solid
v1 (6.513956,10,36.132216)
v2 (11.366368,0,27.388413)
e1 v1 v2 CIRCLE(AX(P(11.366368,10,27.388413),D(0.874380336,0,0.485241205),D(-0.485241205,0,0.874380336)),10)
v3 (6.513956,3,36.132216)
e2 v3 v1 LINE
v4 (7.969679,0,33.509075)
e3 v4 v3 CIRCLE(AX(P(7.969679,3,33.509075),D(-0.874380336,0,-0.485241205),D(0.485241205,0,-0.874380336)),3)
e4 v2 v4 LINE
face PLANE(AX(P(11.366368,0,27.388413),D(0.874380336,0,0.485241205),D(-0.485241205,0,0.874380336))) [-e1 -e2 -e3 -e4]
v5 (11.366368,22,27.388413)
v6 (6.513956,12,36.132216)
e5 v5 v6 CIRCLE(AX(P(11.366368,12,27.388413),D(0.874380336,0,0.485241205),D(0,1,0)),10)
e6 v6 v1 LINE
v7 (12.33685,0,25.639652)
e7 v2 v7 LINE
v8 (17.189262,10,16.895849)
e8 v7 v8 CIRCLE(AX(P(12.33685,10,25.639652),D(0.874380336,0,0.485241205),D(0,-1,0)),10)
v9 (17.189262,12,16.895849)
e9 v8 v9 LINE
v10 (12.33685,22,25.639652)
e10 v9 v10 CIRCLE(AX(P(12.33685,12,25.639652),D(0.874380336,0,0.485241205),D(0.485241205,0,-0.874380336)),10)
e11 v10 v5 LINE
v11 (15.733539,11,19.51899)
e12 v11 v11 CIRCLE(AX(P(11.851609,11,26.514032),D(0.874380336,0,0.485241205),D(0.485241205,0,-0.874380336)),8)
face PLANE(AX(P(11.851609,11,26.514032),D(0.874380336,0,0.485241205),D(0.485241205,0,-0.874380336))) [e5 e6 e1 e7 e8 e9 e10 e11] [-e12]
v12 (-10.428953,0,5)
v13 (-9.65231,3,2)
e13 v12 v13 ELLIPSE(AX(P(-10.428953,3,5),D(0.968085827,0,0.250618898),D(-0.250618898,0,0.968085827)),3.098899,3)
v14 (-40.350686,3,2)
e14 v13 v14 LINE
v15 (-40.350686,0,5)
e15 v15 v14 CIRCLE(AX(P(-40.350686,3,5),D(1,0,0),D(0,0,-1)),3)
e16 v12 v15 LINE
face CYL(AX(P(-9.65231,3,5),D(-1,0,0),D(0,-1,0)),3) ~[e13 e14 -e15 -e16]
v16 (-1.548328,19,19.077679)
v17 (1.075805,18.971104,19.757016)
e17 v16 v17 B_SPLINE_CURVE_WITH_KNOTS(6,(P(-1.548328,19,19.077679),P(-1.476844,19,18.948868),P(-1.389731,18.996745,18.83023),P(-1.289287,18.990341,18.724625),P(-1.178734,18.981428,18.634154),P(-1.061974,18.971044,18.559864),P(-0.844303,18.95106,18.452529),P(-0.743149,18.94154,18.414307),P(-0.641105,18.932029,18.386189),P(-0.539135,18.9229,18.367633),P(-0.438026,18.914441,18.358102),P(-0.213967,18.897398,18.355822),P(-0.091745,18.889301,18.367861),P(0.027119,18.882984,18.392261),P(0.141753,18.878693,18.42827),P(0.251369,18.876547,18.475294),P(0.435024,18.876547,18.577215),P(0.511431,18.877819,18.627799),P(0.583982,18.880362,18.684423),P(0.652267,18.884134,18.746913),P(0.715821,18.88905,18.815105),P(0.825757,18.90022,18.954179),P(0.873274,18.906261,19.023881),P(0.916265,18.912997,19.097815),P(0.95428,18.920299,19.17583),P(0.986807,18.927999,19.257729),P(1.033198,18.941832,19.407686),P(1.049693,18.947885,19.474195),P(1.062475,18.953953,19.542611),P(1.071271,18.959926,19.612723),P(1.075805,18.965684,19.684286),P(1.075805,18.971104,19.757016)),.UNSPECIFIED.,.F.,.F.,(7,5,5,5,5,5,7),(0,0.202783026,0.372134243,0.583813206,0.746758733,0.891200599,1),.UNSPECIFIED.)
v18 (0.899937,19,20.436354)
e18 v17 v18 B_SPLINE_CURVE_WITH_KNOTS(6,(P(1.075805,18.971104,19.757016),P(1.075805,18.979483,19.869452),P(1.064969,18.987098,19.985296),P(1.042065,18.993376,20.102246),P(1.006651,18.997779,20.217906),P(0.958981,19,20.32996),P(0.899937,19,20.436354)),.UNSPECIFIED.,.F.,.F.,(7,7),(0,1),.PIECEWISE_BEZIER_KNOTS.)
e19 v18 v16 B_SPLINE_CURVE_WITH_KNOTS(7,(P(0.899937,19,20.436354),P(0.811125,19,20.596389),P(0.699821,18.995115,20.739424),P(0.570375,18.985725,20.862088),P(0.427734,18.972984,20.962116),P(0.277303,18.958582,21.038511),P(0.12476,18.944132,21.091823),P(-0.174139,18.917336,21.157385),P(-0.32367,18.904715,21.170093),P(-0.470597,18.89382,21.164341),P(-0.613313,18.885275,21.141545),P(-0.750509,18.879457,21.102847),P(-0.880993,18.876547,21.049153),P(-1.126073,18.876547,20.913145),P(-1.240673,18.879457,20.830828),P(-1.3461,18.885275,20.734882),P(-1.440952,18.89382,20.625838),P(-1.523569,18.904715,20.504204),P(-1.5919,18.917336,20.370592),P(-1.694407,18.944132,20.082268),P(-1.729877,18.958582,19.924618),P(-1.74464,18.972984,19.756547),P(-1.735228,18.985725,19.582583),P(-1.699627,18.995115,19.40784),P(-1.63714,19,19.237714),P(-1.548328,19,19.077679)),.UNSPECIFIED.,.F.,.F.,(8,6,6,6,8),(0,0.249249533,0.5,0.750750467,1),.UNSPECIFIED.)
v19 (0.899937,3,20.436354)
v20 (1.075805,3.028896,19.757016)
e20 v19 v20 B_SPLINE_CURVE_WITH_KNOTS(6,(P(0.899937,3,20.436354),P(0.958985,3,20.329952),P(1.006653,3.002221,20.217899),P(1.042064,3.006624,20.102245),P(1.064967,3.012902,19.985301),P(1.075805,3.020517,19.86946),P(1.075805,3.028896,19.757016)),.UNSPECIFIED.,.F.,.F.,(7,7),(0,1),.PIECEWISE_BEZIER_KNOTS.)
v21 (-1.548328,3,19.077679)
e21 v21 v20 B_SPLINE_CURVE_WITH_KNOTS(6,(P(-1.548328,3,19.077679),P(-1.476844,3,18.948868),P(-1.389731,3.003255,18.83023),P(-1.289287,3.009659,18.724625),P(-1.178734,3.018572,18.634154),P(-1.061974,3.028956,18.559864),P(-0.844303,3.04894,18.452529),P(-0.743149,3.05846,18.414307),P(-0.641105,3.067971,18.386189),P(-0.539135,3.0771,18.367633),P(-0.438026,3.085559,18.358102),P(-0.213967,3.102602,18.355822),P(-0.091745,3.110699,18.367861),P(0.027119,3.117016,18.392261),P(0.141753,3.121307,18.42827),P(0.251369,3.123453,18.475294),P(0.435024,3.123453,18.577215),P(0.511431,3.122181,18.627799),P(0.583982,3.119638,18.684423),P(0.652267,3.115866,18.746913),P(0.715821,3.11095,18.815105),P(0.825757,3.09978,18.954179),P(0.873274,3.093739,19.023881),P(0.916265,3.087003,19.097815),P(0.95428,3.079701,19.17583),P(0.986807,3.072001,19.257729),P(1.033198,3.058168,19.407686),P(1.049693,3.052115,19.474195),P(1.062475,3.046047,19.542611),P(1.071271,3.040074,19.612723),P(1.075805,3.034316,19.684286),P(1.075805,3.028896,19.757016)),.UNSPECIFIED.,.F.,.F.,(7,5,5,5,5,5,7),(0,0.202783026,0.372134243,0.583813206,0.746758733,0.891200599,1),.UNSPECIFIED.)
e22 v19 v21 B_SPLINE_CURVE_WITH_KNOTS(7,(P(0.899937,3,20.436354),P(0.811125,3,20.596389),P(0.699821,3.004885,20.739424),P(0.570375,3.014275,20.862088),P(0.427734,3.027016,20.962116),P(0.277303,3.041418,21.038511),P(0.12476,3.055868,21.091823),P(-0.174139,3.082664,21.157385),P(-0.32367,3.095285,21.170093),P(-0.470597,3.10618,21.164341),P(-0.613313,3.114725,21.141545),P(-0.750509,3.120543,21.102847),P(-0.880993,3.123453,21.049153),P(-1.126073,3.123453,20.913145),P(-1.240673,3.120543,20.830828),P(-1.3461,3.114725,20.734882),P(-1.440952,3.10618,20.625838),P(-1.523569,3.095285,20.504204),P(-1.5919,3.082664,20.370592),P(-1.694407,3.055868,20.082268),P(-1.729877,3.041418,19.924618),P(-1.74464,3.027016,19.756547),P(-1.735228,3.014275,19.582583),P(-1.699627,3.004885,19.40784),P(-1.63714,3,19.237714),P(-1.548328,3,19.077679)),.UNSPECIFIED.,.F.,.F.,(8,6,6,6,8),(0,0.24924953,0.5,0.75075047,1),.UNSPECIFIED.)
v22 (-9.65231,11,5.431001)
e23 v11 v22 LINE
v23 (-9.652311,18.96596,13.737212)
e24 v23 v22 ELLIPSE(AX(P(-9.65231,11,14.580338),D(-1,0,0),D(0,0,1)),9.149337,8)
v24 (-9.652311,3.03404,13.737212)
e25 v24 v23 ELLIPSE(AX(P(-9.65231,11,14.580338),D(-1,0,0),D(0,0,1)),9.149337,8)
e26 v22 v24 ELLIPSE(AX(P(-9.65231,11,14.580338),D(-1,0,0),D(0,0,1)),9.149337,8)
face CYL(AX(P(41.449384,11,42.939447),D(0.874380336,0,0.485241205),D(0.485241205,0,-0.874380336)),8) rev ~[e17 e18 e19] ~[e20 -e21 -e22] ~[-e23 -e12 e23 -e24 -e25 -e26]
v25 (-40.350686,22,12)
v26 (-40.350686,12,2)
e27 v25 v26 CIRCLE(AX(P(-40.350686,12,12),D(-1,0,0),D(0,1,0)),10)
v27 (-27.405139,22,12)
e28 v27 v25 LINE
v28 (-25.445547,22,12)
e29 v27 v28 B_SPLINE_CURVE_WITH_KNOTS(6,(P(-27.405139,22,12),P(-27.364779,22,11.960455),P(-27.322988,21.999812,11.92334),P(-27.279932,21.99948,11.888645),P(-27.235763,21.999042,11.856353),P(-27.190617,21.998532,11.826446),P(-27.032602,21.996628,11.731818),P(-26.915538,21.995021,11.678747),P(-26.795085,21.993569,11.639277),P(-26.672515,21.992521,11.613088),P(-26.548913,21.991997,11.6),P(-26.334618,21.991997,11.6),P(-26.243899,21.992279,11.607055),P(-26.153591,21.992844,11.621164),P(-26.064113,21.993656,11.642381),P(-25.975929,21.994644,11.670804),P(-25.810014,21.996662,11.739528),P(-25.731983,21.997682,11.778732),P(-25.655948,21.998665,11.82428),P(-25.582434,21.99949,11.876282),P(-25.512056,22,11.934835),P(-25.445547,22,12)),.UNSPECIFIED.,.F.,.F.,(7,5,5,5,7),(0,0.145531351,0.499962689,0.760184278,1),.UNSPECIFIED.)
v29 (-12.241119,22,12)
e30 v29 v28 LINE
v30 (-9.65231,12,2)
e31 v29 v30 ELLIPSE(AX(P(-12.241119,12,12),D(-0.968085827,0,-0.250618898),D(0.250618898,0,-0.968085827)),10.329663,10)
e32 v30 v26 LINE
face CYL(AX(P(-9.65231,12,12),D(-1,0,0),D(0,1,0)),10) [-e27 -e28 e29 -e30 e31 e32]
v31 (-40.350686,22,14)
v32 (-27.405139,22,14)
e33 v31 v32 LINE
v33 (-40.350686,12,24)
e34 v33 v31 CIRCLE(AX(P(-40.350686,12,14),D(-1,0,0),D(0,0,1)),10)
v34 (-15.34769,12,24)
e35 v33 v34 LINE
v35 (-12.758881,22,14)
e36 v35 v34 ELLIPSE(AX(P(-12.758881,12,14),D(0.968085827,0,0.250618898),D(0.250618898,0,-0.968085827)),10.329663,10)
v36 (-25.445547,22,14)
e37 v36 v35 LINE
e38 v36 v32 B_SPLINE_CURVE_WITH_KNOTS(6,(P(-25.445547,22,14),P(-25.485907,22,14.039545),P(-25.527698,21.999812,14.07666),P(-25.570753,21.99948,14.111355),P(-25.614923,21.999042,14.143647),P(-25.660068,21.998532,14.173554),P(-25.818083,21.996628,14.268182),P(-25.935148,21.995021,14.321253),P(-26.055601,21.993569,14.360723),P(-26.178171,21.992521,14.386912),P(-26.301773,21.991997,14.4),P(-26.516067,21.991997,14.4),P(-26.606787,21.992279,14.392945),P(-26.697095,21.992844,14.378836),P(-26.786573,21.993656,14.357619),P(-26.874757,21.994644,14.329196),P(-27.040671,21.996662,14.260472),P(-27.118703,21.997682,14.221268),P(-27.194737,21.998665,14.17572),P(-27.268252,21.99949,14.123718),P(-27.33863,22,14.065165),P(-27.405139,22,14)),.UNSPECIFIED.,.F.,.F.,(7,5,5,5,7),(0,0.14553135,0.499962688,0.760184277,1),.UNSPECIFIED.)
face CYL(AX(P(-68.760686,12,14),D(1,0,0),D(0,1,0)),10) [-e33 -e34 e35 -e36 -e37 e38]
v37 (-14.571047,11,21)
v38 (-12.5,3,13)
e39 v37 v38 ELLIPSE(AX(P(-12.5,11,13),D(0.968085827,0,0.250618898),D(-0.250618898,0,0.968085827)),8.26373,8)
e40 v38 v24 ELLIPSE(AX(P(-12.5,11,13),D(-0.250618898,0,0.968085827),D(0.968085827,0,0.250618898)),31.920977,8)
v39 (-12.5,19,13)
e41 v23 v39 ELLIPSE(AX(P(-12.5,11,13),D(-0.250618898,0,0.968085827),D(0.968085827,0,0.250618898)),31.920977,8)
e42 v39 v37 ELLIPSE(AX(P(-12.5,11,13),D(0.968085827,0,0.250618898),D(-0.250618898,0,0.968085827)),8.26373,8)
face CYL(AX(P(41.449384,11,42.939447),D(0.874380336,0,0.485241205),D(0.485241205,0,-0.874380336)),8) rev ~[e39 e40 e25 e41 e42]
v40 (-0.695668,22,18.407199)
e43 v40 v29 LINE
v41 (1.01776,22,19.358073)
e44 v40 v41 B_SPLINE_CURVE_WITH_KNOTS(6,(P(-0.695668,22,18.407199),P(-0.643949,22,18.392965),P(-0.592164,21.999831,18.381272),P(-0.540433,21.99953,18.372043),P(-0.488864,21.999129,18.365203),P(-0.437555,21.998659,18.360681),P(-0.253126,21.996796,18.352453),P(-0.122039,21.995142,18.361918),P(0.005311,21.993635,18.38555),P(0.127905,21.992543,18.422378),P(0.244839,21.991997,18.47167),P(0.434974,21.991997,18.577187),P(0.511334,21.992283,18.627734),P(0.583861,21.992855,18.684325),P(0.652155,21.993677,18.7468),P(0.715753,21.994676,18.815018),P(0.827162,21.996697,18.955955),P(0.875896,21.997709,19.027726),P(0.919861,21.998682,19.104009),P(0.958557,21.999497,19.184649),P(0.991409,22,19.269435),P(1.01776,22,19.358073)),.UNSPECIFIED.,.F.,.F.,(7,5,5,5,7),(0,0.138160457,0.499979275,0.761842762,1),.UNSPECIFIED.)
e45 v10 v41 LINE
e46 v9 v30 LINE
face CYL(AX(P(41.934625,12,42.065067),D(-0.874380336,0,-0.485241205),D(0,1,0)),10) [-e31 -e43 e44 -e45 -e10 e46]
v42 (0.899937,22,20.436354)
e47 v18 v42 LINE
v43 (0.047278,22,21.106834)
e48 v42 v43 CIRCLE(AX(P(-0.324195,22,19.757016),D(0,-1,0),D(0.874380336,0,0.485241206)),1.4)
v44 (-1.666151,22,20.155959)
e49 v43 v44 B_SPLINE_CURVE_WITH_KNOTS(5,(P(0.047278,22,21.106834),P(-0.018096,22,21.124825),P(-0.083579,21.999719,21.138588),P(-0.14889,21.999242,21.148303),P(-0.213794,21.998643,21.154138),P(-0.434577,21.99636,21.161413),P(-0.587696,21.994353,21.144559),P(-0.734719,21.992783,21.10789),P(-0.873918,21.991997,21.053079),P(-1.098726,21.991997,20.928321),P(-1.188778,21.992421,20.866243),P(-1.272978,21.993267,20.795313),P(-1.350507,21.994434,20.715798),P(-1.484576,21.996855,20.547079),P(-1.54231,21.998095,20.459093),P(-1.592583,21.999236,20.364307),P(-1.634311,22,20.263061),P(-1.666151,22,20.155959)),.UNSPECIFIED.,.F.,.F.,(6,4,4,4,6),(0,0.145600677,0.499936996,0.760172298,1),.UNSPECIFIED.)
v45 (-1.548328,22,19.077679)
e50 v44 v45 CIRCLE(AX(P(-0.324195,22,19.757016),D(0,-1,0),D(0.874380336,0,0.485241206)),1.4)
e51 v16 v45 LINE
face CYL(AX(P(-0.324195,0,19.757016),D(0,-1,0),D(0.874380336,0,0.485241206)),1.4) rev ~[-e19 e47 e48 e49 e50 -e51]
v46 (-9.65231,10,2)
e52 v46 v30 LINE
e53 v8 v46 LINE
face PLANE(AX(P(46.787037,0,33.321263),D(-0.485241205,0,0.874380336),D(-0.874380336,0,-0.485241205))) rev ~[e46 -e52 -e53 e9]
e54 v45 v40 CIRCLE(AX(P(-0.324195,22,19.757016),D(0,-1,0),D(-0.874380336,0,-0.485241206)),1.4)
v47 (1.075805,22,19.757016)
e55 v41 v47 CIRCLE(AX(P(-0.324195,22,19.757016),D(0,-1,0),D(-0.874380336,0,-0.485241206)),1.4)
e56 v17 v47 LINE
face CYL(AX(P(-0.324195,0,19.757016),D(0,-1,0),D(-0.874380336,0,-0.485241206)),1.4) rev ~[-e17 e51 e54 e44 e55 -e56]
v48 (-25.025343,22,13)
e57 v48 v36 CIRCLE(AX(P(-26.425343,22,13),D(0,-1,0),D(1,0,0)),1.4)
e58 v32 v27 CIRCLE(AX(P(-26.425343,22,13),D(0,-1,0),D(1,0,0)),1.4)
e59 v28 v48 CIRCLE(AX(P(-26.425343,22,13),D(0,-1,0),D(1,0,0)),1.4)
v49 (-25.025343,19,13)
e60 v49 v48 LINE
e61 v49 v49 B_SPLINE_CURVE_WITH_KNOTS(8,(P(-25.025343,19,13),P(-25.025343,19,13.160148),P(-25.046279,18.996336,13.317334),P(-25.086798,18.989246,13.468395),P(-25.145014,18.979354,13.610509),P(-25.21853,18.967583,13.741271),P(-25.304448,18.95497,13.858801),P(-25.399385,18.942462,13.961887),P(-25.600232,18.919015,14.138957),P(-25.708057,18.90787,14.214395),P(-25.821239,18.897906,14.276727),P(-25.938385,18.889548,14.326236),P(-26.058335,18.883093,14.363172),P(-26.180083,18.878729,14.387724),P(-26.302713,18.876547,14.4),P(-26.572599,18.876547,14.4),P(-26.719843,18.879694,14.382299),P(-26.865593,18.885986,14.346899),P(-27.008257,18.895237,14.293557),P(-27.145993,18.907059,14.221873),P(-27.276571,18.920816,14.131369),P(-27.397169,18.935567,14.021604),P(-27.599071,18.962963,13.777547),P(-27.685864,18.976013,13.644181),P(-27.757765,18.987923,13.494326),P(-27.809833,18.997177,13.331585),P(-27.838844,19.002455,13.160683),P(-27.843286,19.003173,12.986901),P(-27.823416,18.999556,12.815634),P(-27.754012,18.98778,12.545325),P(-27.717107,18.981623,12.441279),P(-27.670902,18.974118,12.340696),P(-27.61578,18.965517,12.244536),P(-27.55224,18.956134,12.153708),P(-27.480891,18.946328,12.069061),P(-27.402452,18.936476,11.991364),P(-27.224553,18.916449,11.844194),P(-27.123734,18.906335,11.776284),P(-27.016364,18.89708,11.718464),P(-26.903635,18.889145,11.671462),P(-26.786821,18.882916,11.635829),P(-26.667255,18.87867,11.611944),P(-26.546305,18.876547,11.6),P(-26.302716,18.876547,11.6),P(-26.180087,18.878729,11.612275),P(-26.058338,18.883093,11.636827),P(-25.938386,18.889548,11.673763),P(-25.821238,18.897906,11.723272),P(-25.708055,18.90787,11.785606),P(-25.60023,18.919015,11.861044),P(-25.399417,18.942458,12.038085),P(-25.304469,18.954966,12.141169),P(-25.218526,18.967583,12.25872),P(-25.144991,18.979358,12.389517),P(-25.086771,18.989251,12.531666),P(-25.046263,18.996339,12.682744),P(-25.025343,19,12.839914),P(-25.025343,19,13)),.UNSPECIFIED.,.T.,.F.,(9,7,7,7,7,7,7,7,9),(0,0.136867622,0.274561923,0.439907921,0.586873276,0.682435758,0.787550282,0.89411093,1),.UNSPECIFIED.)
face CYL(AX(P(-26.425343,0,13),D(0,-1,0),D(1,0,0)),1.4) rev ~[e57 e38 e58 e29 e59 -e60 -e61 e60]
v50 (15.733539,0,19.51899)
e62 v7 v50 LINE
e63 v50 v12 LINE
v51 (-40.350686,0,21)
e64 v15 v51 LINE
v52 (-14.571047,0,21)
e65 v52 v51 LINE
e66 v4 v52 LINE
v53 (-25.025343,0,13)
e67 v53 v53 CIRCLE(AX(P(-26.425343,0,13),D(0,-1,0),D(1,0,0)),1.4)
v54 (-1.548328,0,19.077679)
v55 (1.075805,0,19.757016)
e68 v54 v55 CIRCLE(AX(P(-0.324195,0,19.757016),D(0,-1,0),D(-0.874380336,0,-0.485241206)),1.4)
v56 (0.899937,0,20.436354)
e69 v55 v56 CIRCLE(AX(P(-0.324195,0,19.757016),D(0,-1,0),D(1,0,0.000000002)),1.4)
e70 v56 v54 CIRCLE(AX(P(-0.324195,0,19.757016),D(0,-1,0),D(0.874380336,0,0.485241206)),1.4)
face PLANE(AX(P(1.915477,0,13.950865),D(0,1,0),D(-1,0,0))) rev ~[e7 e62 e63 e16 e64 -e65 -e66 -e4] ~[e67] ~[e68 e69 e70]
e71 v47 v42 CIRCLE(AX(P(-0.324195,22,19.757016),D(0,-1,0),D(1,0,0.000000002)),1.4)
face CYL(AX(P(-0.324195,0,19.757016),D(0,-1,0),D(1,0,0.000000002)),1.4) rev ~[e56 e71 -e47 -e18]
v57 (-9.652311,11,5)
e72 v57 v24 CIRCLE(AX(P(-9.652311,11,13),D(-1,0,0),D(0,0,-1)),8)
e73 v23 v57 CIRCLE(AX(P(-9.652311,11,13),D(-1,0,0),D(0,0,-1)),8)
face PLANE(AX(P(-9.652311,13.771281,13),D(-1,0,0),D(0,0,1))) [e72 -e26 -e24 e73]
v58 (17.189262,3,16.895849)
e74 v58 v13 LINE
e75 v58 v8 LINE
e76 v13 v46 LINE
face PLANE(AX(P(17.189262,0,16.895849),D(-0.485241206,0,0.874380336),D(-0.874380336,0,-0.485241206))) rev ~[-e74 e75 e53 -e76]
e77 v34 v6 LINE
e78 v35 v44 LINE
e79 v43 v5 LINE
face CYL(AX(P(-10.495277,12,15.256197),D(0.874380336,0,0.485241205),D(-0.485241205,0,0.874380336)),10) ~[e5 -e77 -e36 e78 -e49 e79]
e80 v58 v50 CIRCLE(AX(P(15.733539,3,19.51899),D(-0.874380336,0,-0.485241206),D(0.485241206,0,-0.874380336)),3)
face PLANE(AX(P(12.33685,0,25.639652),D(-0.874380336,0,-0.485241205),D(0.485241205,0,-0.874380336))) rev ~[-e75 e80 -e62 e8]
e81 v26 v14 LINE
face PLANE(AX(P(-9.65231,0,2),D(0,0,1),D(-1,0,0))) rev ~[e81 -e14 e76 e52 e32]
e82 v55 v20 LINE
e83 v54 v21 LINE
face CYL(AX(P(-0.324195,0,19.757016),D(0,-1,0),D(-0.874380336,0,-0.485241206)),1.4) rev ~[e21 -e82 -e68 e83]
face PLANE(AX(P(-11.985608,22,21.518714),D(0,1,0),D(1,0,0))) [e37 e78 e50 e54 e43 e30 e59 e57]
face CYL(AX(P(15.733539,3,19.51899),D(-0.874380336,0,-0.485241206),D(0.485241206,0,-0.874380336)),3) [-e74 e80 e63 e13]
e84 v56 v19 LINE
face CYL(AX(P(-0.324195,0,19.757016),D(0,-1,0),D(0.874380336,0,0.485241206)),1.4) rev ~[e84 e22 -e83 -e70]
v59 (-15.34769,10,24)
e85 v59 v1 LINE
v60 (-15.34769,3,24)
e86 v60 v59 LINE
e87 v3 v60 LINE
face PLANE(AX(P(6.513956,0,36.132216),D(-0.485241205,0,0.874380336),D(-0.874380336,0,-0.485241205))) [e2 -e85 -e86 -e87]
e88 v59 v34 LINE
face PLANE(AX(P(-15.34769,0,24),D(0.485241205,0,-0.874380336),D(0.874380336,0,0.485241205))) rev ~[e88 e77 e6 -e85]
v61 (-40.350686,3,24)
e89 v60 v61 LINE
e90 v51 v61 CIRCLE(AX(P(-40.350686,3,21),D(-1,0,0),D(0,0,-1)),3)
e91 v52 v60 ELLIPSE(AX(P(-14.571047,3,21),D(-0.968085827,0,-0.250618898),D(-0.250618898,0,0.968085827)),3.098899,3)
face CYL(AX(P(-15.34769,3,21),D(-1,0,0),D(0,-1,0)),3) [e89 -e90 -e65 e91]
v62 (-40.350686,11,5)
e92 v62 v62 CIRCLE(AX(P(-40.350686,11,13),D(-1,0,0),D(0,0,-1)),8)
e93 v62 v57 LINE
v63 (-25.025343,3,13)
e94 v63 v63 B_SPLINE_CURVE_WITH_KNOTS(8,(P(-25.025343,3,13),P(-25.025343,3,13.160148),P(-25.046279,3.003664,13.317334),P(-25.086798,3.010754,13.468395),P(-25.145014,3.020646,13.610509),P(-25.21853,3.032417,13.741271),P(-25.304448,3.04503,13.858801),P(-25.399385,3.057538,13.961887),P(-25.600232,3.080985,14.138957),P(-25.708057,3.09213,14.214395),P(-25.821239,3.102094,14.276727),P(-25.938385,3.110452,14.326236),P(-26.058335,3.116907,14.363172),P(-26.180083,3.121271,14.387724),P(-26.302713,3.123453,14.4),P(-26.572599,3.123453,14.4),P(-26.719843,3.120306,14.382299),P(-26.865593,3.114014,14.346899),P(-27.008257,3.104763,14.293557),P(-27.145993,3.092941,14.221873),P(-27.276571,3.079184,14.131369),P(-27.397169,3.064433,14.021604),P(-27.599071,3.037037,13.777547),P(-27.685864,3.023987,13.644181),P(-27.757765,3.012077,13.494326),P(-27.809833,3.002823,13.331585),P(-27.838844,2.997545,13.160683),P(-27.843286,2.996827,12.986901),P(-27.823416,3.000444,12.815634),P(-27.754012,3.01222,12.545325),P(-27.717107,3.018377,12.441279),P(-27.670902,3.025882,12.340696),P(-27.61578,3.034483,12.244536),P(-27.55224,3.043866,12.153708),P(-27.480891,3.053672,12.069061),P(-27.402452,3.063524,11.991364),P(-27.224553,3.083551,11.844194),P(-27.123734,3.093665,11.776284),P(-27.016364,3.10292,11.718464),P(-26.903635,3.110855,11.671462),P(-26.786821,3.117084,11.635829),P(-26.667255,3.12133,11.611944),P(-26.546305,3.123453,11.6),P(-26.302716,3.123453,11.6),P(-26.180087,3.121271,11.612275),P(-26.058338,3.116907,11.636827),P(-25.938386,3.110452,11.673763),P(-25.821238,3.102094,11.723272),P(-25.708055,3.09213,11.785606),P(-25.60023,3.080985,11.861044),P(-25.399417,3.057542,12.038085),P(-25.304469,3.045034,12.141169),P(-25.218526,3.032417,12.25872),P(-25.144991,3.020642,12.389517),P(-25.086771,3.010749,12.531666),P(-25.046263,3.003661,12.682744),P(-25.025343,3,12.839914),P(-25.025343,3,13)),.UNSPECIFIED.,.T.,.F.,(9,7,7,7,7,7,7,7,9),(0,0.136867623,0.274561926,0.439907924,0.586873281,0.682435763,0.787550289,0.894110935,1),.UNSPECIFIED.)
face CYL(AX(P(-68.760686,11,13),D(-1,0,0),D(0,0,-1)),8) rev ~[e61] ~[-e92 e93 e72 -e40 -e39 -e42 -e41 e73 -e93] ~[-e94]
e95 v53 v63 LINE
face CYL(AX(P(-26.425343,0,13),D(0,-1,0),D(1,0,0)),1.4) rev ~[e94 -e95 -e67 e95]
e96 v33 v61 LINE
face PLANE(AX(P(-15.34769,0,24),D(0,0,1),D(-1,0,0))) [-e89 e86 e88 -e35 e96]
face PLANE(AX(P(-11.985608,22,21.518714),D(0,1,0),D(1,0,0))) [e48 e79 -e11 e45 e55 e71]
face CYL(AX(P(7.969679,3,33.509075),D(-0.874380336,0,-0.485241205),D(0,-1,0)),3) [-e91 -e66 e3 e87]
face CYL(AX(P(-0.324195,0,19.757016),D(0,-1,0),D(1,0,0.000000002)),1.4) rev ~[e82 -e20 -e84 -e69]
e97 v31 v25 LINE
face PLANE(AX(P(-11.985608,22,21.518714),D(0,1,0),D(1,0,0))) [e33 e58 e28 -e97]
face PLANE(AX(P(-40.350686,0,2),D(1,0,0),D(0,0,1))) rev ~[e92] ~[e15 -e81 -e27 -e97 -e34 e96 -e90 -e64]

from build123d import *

# Parameters (mm, degrees)
BOSS_EXTRUDE3_DEPTH = 22
CUT_EXTRUDE4_DEPTH  = 59.108375
CUT_EXTRUDE5_REACH  = 125.396
SKETCH5_R           = 8
CUT_EXTRUDE6_REACH  = 125.396
SKETCH7_R           = 8
FILLET1_R           = 10
CUT_EXTRUDE9_DEPTH  = 28.41
CUT_EXTRUDE10_DEPTH = 33.85
BOSS_EXTRUDE4_REACH = 60.461
BOSS_EXTRUDE5_REACH = 60.461
BOSS_EXTRUDE6_REACH = 60.461
BOSS_EXTRUDE7_REACH = 60.461
CUT_EXTRUDE11_DEPTH = 40
FILLET2_R           = 3


with BuildPart() as part:
    # Sketch1 → Boss-Extrude3 (new body)
    with BuildSketch(Plane(origin=(0, 0, 0), x_dir=(1, 0, 0), z_dir=(0, 1, 0))):
        Polygon((36.111730264, -52.557630883), (46.787036785, -33.321263484), (-9.652310469, -2), (-68.760685704, -2), (-68.760685704, -24), (-15.347689531, -24), align=None)
    extrude(amount=BOSS_EXTRUDE3_DEPTH)

    # Sketch4 → Cut-Extrude4 (cut)
    with BuildSketch(Plane.ZY.offset(68.760685704)):
        with BuildLine():
            ThreePointArc((21, 11), (13, 19), (5, 11))
            Line((5, 11), (21, 11))
        make_face()
        with BuildLine():
            Line((21, 11), (5, 11))
            ThreePointArc((5, 11), (13, 3), (21, 11))
        make_face()
    extrude(amount=-CUT_EXTRUDE4_DEPTH, mode=Mode.SUBTRACT)

    # Cut-Extrude5: up to this plane
    cut_extrude5_end = Plane(origin=(-9.652310469, 0, 0), z_dir=(-1, 0, 0))
    # Sketch5 → Cut-Extrude5 (cut, up to the surface)
    with BuildSketch(Plane(origin=(49.908331158, 0, 27.696847436), x_dir=(0.4852412054872001, 0, -0.87438033629384), z_dir=(0.87438033629384, 0, 0.4852412054872001)), mode=Mode.PRIVATE) as cut_extrude5_sk1:
        with Locations((-17.43245944, 11)):
            Circle(SKETCH5_R)
    cut_extrude5_tool1 = split(extrude(cut_extrude5_sk1.sketch, amount=-CUT_EXTRUDE5_REACH, mode=Mode.PRIVATE), bisect_by=cut_extrude5_end, keep=Keep.BOTH, mode=Mode.PRIVATE)
    add(cut_extrude5_tool1.solids().sort_by_distance((41.449384, 11, 42.939447))[0], mode=Mode.SUBTRACT)

    # Sketch7 → Cut-Extrude6 (cut, up to next)
    with BuildSketch(Plane(origin=(49.908331158, 0, 27.696847436), x_dir=(0.4852412054872001, 0, -0.87438033629384), z_dir=(0.87438033629384, 0, 0.4852412054872001)), mode=Mode.PRIVATE) as cut_extrude6_sk1:
        with Locations((-17.43245944, 11)):
            Circle(SKETCH7_R)
    cut_extrude6_tool1 = extrude(cut_extrude6_sk1.sketch, amount=-CUT_EXTRUDE6_REACH, mode=Mode.PRIVATE) & part.part
    add(cut_extrude6_tool1.solids().sort_by_distance((41.449384, 11, 42.939447))[0], mode=Mode.SUBTRACT)

    # Fillet1
    fillet1_edges = [part.edges().sort_by_distance(p)[0] for p in [
        (18.567363158, 0, 17.660631742),
        (10.382020367, 0, 38.278815441),
        (18.567363158, 22, 17.660631742),
        (-39.206498086, 22, 2),
        (-42.054187617, 22, 24),
        (10.382020367, 22, 38.278815441),
        (-42.054187617, 0, 24),
        (-39.206498086, 0, 2),
    ]]
    fillet(fillet1_edges, radius=FILLET1_R)

    # Sketch9 → Cut-Extrude9 (cut)
    with BuildSketch(Plane.ZY.offset(68.760685704)):
        with BuildLine():
            Line((2, 12), (2, 10))
            ThreePointArc((2, 10), (4.928932188, 2.928932188), (12, 0))
            Line((12, 0), (14, 0))
            ThreePointArc((14, 0), (21.071067812, 2.928932188), (24, 10))
            Line((24, 10), (24, 12))
            ThreePointArc((24, 12), (21.071067812, 19.071067812), (14, 22))
            Line((14, 22), (12, 22))
            ThreePointArc((12, 22), (4.928932188, 19.071067812), (2, 12))
        make_face()
    extrude(amount=-CUT_EXTRUDE9_DEPTH, mode=Mode.SUBTRACT)

    # Sketch10 → Cut-Extrude10 (cut)
    with BuildSketch(Plane(origin=(49.908331158, 0, 27.696847436), x_dir=(0.4852412054872001, 0, -0.87438033629384), z_dir=(0.87438033629384, 0, 0.4852412054872001))):
        with BuildLine():
            Line((-18.43245944, 0), (-16.43245944, 0))
            ThreePointArc((-16.43245944, 0), (-9.361391629, 2.928932188), (-6.43245944, 10))
            Line((-6.43245944, 10), (-6.43245944, 12))
            ThreePointArc((-6.43245944, 12), (-9.361391629, 19.071067812), (-16.43245944, 22))
            Line((-16.43245944, 22), (-18.43245944, 22))
            ThreePointArc((-18.43245944, 22), (-25.503527252, 19.071067812), (-28.43245944, 12))
            Line((-28.43245944, 12), (-28.43245944, 10))
            ThreePointArc((-28.43245944, 10), (-25.503527252, 2.928932188), (-18.43245944, 0))
        make_face()
    extrude(amount=-CUT_EXTRUDE10_DEPTH, mode=Mode.SUBTRACT)

    # Sketch11 → Boss-Extrude4 (add, up to next)
    with BuildSketch(Plane.XZ, mode=Mode.PRIVATE) as boss_extrude4_sk1:
        Polygon((-15.347689531, 24), (-40.350685704, 24), (-40.350685704, 14), (-12.758880866, 14), align=None)
    boss_extrude4_tool1 = extrude(boss_extrude4_sk1.sketch, amount=-BOSS_EXTRUDE4_REACH, mode=Mode.PRIVATE) - part.part
    add(boss_extrude4_tool1.solids().sort_by_distance((-27.191367, 0, 18.917964))[0])

    # Sketch12 → Boss-Extrude5 (add, up to next)
    with BuildSketch(Plane.XZ, mode=Mode.PRIVATE) as boss_extrude5_sk1:
        Polygon((6.513955881, 36.132216077), (-15.347689531, 24), (-12.758880866, 14), (11.366367936, 27.388412714), align=None)
    boss_extrude5_tool1 = extrude(boss_extrude5_sk1.sketch, amount=-BOSS_EXTRUDE5_REACH, mode=Mode.PRIVATE) - part.part
    add(boss_extrude5_tool1.solids().sort_by_distance((-2.526039, 0, 25.303272))[0])

    # Sketch13 → Boss-Extrude6 (add, up to next)
    with BuildSketch(Plane.XZ, mode=Mode.PRIVATE) as boss_extrude6_sk1:
        Polygon((-40.350685704, 12), (-12.241119134, 12), (-9.652310469, 2), (-40.350685704, 2), align=None)
    boss_extrude6_tool1 = extrude(boss_extrude6_sk1.sketch, amount=-BOSS_EXTRUDE6_REACH, mode=Mode.PRIVATE) - part.part
    add(boss_extrude6_tool1.solids().sort_by_distance((-25.639203, 0, 6.926631))[0])

    # Sketch14 → Boss-Extrude7 (add, up to next)
    with BuildSketch(Plane.XZ, mode=Mode.PRIVATE) as boss_extrude7_sk1:
        Polygon((-12.241119134, 12), (12.336850347, 25.639652042), (17.189262401, 16.895848679), (-9.652310469, 2), align=None)
    boss_extrude7_tool1 = extrude(boss_extrude7_sk1.sketch, amount=-BOSS_EXTRUDE7_REACH, mode=Mode.PRIVATE) - part.part
    add(boss_extrude7_tool1.solids().sort_by_distance((1.935469, 0, 14.065113))[0])

    # Sketch15 → Cut-Extrude11 (cut)
    with BuildSketch(Plane.XZ):
        with BuildLine():
            ThreePointArc((-27.825342852, 13), (-26.425342852, 11.6), (-25.025342852, 13))
            Line((-25.025342852, 13), (-27.825342852, 13))
        make_face()
        with BuildLine():
            Line((-27.825342852, 13), (-25.025342852, 13))
            ThreePointArc((-25.025342852, 13), (-26.425342852, 14.4), (-27.825342852, 13))
        make_face()
        with BuildLine():
            ThreePointArc((0.899937041, 20.436353877), (-1.003533117, 20.98114866), (-1.5483279, 19.077678501))
            Line((-1.5483279, 19.077678501), (0.899937041, 20.436353877))
        make_face()
        with BuildLine():
            Line((0.899937041, 20.436353877), (-1.5483279, 19.077678501))
            ThreePointArc((-1.5483279, 19.077678501), (0.026671027, 18.401696031), (1.075804571, 19.757016189))
            ThreePointArc((1.075804571, 19.757016189), (1.031124728, 20.107882646), (0.899937041, 20.436353877))
        make_face()
    extrude(amount=-CUT_EXTRUDE11_DEPTH, mode=Mode.SUBTRACT)

    # Fillet2
    fillet2_edges = [part.edges().sort_by_distance(p)[0] for p in [
        (-27.849187617, 0, 24),
        (-4.416866825, 0, 30.066108039),
        (-25.001498086, 0, 2),
        (3.768475966, 0, 9.447924339),
    ]]
    fillet(fillet2_edges, radius=FILLET2_R)


solid = part.part
